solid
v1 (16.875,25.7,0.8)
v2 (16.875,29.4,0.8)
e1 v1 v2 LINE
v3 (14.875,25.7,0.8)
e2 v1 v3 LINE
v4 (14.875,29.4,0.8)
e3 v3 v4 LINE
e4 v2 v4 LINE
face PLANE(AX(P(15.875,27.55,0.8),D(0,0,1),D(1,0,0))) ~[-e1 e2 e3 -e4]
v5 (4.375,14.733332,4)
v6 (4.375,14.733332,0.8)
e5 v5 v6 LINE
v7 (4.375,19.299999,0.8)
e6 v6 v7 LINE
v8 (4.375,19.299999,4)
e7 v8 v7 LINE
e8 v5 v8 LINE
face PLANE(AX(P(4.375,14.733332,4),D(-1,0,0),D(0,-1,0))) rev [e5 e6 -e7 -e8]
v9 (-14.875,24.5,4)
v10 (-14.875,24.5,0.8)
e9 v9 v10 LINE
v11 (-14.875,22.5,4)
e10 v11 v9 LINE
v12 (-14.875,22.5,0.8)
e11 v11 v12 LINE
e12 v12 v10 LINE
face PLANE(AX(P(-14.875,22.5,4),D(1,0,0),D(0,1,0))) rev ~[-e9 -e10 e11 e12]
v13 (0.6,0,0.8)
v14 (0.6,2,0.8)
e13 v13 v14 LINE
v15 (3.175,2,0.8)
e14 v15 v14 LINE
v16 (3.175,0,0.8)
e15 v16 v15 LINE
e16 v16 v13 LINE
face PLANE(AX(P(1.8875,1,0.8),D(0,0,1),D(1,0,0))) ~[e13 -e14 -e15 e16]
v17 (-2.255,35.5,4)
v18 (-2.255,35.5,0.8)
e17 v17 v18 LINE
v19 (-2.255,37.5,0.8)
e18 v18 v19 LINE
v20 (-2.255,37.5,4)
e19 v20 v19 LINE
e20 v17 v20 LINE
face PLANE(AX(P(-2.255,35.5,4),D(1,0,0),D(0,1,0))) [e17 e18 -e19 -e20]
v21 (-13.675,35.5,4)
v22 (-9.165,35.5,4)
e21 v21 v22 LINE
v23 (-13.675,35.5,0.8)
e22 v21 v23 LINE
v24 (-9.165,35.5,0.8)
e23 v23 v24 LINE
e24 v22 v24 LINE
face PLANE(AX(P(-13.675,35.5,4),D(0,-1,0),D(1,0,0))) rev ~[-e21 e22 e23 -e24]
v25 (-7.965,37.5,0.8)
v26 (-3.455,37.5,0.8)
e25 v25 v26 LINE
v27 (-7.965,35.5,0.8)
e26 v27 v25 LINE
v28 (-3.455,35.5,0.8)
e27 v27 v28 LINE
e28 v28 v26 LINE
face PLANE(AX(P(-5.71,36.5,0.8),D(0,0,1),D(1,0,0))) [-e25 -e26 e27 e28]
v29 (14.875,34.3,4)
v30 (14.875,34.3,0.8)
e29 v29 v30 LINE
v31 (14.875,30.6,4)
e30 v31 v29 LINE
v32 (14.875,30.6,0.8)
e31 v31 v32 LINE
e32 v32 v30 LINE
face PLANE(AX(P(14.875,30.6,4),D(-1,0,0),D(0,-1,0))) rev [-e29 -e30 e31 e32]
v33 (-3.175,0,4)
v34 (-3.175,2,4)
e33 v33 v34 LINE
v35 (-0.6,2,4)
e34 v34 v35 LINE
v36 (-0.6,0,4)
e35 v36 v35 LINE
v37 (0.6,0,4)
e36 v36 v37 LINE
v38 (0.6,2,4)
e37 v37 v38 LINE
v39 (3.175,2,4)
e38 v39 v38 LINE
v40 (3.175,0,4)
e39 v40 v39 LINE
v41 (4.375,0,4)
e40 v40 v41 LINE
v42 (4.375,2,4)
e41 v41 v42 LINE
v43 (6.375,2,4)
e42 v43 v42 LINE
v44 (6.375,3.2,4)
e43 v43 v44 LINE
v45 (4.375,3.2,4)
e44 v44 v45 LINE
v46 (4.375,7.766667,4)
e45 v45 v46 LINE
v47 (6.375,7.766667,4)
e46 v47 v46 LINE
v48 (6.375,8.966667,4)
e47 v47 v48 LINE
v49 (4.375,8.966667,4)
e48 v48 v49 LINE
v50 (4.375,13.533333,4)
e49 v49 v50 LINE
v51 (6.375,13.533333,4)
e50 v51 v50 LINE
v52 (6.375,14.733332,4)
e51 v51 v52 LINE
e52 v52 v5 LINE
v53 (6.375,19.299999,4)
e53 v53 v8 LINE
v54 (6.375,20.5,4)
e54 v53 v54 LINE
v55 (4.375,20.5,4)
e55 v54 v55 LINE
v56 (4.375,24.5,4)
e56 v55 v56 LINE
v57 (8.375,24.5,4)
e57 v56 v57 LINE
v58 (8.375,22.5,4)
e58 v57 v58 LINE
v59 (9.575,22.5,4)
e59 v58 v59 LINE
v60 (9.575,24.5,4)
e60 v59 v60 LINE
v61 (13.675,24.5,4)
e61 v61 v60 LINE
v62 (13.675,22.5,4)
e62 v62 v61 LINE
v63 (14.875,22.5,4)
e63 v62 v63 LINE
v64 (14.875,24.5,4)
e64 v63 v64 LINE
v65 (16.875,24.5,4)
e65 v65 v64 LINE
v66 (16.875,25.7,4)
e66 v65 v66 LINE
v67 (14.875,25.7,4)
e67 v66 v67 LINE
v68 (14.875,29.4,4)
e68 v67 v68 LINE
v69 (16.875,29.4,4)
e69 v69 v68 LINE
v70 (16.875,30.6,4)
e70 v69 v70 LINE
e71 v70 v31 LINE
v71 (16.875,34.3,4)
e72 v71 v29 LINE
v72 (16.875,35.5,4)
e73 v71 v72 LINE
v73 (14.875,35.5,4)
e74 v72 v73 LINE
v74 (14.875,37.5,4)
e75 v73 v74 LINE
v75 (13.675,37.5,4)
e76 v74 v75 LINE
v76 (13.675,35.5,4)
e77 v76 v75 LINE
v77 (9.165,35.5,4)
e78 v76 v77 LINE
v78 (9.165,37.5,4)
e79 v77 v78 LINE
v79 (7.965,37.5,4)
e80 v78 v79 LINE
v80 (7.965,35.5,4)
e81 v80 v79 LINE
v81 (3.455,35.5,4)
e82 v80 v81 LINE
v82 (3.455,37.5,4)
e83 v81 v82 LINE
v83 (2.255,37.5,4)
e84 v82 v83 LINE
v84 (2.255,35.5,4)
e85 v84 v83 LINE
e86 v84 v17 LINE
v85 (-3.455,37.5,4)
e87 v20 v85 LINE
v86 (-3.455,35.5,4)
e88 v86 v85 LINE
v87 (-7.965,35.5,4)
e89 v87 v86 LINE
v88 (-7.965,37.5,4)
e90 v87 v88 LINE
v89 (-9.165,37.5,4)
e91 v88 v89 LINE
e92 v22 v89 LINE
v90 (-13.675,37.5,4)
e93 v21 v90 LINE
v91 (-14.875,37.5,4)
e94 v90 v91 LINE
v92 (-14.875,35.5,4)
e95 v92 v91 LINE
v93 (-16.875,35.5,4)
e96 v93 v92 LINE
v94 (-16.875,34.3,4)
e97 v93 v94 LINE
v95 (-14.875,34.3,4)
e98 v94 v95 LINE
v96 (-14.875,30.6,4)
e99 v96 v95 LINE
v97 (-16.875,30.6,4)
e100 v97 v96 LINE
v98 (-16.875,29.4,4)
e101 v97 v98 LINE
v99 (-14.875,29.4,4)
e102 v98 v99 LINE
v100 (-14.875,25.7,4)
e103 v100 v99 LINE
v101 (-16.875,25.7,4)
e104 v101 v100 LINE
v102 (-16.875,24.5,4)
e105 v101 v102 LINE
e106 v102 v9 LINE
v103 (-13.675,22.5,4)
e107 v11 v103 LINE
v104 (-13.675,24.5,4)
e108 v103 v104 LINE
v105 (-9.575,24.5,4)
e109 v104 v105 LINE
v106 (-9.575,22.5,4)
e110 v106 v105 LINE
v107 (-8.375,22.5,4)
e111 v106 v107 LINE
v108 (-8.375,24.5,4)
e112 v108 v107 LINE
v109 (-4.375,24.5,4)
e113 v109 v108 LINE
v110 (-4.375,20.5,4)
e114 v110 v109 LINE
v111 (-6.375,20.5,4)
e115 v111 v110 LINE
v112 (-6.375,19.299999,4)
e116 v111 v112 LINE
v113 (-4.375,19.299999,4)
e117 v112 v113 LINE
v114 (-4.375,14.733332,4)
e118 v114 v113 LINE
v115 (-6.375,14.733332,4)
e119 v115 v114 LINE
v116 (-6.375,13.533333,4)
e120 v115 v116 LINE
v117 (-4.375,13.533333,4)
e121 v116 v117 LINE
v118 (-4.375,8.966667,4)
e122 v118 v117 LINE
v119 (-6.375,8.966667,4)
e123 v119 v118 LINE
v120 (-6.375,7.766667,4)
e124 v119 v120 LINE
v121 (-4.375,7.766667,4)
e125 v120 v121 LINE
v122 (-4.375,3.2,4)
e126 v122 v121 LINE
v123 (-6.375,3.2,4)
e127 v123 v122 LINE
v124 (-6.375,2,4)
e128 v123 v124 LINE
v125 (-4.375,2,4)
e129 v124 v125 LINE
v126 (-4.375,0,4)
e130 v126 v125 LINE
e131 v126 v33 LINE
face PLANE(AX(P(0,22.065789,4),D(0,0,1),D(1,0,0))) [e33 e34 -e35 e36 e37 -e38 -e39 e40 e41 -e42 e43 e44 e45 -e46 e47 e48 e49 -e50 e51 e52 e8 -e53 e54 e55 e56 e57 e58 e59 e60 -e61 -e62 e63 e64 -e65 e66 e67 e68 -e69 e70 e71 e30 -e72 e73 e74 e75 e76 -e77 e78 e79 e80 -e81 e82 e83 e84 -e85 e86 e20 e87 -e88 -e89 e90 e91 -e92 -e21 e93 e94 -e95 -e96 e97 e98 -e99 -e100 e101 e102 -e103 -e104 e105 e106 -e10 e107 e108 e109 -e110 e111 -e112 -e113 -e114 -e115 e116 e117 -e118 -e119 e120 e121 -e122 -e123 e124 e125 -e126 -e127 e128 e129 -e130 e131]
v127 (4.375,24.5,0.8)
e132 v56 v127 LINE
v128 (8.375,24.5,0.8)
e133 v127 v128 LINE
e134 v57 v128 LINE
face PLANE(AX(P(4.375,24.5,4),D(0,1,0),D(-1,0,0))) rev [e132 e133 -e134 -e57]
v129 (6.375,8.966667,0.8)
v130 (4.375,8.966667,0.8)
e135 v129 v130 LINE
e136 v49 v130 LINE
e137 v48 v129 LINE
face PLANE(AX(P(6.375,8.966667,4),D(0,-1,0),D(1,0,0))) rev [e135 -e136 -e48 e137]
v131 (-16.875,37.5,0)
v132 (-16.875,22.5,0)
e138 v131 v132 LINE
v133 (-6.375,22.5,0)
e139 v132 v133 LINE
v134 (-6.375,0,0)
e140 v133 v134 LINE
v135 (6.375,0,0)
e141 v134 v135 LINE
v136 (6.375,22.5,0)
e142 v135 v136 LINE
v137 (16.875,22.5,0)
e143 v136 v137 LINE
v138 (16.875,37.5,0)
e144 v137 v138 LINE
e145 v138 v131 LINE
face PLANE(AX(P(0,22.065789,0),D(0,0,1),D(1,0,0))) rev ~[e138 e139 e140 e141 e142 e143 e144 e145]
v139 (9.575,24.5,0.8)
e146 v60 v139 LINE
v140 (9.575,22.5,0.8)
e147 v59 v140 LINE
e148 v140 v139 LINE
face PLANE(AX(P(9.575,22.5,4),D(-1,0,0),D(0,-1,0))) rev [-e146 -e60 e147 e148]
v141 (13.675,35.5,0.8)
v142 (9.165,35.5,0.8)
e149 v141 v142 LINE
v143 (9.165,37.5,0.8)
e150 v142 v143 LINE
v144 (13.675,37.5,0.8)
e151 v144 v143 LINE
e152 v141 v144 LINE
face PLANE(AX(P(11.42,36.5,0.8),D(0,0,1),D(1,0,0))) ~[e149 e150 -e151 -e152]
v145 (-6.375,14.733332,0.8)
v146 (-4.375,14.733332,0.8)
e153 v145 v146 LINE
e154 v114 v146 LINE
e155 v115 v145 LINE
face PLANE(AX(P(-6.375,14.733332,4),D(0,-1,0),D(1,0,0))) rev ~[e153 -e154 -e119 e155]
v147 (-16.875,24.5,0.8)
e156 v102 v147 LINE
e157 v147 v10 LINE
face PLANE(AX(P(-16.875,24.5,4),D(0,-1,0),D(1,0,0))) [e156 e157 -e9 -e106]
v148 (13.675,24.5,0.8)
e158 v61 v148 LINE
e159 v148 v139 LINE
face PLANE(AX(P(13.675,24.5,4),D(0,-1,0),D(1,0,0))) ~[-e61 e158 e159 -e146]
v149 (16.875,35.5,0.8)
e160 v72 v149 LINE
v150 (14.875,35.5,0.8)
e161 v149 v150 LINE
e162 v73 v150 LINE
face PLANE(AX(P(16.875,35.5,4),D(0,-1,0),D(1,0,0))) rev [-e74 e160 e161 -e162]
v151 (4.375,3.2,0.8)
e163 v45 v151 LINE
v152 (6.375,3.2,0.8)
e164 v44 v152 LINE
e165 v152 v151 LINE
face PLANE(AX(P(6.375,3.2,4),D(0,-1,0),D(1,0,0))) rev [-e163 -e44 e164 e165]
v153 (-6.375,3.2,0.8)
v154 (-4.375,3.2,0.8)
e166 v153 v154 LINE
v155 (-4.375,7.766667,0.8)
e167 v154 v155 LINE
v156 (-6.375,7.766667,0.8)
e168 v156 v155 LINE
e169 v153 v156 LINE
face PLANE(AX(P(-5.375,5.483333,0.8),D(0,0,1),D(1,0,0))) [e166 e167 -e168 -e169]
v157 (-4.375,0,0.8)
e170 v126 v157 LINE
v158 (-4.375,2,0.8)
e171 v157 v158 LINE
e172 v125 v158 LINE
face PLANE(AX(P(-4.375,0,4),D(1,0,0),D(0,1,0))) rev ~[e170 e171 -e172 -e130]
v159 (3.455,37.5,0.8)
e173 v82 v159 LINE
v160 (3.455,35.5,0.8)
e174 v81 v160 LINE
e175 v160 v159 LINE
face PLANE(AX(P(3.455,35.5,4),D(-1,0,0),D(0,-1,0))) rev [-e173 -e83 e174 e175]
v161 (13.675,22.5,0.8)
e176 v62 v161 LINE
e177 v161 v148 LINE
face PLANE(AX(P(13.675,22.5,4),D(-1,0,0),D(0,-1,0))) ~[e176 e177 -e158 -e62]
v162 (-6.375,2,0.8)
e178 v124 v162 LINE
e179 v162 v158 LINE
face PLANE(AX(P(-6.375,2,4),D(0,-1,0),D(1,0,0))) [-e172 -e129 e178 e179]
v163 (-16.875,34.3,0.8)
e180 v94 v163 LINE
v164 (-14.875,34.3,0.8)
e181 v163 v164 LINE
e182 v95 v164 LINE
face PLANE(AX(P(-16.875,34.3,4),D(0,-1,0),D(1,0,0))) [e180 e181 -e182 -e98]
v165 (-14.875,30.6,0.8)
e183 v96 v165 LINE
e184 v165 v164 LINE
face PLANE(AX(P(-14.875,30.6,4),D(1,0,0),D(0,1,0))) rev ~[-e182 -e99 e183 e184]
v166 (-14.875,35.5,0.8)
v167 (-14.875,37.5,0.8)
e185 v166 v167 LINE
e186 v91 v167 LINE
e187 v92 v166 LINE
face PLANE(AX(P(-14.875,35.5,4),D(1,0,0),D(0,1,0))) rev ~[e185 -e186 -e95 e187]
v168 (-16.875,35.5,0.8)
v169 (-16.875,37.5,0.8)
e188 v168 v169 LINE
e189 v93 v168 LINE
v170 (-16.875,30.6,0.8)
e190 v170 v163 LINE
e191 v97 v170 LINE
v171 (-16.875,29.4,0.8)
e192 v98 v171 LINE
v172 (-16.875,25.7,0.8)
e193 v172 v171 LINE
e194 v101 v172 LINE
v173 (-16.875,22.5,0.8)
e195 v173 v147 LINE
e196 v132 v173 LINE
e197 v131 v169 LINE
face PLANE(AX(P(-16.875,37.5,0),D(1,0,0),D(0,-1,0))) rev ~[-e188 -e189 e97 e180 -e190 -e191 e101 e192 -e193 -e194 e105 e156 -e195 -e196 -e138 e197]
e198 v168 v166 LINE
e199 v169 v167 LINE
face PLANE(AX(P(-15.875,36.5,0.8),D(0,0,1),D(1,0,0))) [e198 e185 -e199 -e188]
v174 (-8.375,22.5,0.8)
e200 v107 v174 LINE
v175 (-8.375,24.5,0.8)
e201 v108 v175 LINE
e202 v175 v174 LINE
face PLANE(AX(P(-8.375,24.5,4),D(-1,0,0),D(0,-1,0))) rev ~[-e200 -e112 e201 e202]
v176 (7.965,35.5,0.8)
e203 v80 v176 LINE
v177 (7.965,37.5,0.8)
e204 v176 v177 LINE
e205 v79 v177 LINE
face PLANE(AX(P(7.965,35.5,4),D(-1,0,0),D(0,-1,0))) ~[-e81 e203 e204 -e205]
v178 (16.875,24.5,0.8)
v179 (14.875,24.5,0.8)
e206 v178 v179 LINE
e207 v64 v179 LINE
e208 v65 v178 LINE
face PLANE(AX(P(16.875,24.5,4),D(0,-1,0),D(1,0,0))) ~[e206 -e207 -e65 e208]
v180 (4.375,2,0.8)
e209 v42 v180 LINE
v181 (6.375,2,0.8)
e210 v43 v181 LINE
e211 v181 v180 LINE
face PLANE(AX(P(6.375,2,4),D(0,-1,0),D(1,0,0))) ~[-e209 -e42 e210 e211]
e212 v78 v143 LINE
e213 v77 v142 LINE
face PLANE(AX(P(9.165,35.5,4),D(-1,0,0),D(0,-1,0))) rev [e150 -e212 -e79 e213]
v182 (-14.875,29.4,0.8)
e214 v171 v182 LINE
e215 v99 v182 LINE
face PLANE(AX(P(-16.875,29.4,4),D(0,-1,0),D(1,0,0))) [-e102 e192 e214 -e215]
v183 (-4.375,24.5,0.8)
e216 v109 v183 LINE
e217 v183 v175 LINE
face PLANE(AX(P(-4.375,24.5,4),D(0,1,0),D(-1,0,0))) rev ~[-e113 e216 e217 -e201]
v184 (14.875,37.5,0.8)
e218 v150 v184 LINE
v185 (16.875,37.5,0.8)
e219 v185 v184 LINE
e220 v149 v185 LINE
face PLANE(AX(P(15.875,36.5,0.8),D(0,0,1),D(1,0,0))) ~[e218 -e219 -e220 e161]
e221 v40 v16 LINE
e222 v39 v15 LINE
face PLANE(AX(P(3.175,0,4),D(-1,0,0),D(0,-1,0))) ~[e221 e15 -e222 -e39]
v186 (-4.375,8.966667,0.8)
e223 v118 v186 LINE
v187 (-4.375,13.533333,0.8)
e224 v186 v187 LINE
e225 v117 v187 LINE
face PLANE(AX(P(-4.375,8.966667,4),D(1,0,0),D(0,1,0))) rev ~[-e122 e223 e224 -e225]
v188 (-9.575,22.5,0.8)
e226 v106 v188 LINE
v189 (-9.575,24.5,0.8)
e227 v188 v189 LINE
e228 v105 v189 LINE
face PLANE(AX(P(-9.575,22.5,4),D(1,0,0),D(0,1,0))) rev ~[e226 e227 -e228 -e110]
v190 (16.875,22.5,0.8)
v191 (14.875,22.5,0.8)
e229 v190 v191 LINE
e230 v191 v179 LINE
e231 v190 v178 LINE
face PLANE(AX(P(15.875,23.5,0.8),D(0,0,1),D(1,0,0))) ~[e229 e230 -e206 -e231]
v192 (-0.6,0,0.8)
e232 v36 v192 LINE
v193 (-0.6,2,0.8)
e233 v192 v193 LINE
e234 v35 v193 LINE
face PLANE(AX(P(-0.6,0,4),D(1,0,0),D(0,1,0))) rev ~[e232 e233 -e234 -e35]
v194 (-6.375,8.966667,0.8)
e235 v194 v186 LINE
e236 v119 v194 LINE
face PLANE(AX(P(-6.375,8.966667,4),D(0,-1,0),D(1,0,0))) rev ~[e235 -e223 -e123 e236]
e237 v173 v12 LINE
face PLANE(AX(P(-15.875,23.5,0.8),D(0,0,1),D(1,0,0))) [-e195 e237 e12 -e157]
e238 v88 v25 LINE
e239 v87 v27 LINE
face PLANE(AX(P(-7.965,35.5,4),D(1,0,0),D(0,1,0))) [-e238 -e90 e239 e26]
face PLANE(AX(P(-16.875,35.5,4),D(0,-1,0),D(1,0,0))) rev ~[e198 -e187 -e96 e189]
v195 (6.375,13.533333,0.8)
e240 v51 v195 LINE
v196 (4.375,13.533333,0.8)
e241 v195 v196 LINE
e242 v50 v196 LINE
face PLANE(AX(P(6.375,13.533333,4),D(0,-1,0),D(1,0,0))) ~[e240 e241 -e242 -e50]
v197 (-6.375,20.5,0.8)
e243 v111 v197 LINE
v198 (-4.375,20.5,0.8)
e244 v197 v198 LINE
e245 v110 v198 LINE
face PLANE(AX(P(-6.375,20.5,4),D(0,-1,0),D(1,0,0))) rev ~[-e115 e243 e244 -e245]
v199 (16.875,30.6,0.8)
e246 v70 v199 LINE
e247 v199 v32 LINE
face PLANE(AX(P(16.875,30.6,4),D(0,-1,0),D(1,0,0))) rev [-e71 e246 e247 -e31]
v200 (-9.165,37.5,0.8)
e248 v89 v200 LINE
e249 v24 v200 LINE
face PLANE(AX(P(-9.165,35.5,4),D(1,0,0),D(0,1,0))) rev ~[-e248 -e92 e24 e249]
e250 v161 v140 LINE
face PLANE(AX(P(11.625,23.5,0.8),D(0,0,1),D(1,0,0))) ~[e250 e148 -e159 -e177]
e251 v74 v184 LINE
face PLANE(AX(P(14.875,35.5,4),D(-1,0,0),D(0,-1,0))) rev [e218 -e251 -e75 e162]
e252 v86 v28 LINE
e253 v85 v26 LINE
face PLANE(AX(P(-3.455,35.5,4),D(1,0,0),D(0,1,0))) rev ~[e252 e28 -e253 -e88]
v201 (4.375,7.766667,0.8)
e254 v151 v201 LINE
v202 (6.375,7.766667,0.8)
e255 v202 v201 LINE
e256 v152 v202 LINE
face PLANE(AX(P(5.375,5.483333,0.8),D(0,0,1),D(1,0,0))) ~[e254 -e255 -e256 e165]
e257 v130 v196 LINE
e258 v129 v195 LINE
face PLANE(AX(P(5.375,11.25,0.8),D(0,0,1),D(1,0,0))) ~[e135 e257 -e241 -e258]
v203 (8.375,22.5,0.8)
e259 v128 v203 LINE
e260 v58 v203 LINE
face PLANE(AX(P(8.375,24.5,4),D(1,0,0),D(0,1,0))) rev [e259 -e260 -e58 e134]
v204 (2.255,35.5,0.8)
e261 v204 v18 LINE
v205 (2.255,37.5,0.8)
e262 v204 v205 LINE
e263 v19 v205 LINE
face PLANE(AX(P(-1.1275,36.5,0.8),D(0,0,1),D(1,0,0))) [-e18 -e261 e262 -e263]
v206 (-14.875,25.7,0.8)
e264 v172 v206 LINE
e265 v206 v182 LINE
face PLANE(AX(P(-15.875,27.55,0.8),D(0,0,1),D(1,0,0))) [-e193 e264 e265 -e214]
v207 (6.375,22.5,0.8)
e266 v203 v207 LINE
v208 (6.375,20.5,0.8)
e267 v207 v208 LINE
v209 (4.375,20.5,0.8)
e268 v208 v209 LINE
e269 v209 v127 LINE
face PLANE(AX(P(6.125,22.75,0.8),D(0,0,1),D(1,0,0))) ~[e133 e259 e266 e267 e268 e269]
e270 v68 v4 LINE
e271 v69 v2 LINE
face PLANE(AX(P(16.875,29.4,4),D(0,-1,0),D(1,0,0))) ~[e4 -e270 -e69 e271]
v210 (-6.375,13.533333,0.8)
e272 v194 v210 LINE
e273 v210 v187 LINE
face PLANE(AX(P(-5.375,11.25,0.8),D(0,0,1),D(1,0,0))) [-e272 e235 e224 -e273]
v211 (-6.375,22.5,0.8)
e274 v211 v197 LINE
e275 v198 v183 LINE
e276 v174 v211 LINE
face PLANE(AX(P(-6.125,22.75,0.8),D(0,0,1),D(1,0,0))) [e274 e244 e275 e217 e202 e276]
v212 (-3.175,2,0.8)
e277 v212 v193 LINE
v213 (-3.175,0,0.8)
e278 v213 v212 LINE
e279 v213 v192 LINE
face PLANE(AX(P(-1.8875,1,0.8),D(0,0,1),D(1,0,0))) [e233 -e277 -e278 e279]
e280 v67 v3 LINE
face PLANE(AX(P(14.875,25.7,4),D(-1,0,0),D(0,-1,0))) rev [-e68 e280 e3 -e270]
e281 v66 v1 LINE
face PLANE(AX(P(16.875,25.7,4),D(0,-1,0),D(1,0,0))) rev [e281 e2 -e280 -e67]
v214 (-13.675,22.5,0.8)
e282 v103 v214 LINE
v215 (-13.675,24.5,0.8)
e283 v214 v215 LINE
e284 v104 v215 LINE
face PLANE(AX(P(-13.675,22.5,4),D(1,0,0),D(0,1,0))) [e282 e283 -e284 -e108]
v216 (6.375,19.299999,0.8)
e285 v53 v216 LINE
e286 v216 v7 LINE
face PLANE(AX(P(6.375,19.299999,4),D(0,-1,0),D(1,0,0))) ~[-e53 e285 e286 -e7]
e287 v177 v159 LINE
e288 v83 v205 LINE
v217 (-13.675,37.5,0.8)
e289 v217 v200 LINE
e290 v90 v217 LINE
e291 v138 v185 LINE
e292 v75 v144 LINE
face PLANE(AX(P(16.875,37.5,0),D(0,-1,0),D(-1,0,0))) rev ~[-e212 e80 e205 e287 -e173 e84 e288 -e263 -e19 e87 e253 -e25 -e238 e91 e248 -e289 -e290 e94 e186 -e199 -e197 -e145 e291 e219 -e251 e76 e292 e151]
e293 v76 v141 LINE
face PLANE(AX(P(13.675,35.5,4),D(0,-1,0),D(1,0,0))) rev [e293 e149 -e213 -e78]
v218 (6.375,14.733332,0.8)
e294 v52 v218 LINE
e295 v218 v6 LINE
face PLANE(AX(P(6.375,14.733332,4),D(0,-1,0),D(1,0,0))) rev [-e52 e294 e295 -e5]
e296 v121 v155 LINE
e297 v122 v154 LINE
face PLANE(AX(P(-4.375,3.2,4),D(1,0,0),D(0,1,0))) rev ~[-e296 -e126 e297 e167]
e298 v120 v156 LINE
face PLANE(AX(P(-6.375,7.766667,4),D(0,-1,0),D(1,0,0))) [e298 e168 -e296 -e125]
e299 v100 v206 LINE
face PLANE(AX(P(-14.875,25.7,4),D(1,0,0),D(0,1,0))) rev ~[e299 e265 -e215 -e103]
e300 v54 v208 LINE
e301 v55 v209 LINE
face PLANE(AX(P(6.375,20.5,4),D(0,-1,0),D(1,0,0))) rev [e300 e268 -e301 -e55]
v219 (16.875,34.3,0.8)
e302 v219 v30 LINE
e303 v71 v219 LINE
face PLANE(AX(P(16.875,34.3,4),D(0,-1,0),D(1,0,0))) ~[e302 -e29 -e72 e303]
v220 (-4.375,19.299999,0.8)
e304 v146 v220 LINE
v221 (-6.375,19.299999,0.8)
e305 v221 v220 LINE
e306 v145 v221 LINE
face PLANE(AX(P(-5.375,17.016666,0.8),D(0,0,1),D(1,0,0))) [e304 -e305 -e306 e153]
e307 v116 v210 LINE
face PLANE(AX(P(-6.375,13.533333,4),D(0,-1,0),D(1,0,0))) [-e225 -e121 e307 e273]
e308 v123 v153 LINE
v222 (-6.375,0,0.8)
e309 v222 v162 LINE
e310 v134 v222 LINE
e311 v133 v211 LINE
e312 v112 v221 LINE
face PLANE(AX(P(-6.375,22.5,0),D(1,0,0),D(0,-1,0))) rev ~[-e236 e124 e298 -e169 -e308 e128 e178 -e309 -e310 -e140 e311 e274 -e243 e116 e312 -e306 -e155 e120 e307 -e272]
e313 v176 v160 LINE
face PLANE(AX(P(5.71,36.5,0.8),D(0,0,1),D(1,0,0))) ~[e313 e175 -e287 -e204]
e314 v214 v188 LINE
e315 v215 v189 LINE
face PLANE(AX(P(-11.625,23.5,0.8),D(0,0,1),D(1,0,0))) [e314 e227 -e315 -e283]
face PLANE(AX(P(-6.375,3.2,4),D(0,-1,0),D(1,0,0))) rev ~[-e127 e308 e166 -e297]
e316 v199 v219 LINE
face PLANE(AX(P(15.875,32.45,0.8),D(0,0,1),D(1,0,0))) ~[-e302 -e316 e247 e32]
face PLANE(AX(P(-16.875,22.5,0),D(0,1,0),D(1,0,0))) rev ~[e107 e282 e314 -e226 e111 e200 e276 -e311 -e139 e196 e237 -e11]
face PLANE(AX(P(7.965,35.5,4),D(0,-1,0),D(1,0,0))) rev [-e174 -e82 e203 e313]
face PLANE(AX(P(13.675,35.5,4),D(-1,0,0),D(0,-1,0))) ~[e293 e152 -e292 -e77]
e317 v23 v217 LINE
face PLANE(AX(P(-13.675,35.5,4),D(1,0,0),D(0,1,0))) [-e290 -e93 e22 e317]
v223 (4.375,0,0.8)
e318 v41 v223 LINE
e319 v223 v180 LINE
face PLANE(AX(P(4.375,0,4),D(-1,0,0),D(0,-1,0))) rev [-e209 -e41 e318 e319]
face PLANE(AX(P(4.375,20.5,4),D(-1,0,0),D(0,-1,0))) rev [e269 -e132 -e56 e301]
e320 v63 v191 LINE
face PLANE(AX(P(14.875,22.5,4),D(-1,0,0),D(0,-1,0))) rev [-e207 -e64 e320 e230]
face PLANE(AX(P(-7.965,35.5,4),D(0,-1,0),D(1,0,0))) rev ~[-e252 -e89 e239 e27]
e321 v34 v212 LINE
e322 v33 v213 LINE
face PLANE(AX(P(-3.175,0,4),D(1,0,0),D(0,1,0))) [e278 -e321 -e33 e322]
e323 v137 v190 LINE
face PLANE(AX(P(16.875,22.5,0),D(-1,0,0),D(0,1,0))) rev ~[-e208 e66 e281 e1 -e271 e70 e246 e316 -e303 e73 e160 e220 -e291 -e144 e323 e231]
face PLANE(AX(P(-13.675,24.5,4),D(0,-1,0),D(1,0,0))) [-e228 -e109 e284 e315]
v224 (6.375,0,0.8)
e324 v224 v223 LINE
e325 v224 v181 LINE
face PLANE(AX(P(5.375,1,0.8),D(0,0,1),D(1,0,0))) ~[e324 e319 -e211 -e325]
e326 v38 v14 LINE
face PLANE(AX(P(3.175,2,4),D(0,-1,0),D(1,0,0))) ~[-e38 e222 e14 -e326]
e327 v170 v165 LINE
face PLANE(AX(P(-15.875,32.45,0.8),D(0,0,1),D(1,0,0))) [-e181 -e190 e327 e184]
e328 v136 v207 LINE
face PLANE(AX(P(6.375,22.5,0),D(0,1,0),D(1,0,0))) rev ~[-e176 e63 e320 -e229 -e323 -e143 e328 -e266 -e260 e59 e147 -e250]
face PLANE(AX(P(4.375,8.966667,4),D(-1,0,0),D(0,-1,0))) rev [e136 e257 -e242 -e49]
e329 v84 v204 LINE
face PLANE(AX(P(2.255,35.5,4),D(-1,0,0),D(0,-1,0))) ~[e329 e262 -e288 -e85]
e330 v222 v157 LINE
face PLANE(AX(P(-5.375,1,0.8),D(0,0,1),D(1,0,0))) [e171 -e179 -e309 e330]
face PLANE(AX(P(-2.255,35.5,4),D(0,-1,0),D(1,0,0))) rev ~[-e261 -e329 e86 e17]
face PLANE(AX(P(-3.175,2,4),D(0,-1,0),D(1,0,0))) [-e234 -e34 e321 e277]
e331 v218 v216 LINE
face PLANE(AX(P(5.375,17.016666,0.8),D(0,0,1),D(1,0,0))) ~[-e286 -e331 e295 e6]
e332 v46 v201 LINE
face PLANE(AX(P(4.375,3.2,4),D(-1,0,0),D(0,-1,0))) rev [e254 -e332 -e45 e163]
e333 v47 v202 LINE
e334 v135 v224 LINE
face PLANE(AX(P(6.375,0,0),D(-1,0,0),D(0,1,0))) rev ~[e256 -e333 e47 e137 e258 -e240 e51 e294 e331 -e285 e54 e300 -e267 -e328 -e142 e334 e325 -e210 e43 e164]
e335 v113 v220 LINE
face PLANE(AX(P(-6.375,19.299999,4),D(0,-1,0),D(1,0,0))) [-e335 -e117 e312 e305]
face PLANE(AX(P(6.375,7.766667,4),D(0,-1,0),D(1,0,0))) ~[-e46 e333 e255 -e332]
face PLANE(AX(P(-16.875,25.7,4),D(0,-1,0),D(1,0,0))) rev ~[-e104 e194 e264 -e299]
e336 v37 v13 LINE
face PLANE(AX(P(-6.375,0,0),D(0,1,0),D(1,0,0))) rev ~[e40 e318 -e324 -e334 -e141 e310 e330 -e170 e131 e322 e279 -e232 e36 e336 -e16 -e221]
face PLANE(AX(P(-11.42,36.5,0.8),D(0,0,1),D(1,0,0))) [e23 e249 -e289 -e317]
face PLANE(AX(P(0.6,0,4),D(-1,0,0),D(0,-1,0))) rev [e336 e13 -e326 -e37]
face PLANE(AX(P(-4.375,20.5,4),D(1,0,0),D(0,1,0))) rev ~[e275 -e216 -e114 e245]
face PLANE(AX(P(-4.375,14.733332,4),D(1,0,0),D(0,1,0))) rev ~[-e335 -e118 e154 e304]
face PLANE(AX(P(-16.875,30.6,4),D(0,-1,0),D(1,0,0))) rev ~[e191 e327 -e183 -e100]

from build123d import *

# Parameters (mm, degrees)
F1_DEPTH = 4
F2_W     = 4.1
F2_H     = 2
F2_W_2   = 2
F2_H_2   = 3.7
F2_W_3   = 4.51
F2_W_4   = 2.255
F2_H_3   = 4.566667
F2_H_4   = 4.566666
F2_W_5   = 2.575
F3_DEPTH = 3.2


with BuildPart() as f1:
    # F0 (on Top) → F1 (new body)
    with BuildSketch(Plane.XY):
        Polygon((-16.875, 22.5), (-6.375, 22.5), (-6.375, 0), (6.375, 0), (6.375, 22.5), (16.875, 22.5), (16.875, 37.5), (-16.875, 37.5), align=None)
    extrude(amount=F1_DEPTH)


with BuildPart() as f3:
    # F2 (on face) → F3 (new body)
    with BuildSketch(Plane.XY.offset(4)):
        with Locations((-11.625, 23.5)):
            Rectangle(F2_W, F2_H)
        with Locations((-15.875, 23.5)):
            Rectangle(F2_W_2, F2_H)
        with Locations((-15.875, 27.55)):
            Rectangle(F2_W_2, F2_H_2)
        with Locations((-15.875, 32.45)):
            Rectangle(F2_W_2, F2_H_2)
        with Locations((-11.42, 36.5)):
            Rectangle(F2_W_3, F2_H)
        with Locations((-5.71, 36.5)):
            Rectangle(F2_W_3, F2_H)
        with Locations((-1.1275, 36.5)):
            Rectangle(F2_W_4, F2_H)
        with Locations((-15.875, 36.5)):
            Rectangle(F2_W_2, F2_H)
        with Locations((-5.375, 17.016666)):
            Rectangle(F2_W_2, F2_H_3)
        with Locations((-5.375, 11.25)):
            Rectangle(F2_W_2, F2_H_4)
        with Locations((-5.375, 5.483333)):
            Rectangle(F2_W_2, F2_H_3)
        with Locations((-5.375, 1)):
            Rectangle(F2_W_2, F2_H)
        with Locations((-1.8875, 1)):
            Rectangle(F2_W_5, F2_H)
        Polygon((-8.375, 22.5), (-6.375, 22.5), (-6.375, 20.5), (-4.375, 20.5), (-4.375, 24.5), (-8.375, 24.5), align=None)
    extrude(amount=-F3_DEPTH)


with BuildPart() as f4_1:
    # F4: instance of F3
    add(f3.part.mirror(Plane.YZ))


with BuildPart() as f1_1:
    add(f1.part)

    # F5: cut F3, F4_1
    add(f3.part, mode=Mode.SUBTRACT)
    add(f4_1.part, mode=Mode.SUBTRACT)


solid = f1_1.part
